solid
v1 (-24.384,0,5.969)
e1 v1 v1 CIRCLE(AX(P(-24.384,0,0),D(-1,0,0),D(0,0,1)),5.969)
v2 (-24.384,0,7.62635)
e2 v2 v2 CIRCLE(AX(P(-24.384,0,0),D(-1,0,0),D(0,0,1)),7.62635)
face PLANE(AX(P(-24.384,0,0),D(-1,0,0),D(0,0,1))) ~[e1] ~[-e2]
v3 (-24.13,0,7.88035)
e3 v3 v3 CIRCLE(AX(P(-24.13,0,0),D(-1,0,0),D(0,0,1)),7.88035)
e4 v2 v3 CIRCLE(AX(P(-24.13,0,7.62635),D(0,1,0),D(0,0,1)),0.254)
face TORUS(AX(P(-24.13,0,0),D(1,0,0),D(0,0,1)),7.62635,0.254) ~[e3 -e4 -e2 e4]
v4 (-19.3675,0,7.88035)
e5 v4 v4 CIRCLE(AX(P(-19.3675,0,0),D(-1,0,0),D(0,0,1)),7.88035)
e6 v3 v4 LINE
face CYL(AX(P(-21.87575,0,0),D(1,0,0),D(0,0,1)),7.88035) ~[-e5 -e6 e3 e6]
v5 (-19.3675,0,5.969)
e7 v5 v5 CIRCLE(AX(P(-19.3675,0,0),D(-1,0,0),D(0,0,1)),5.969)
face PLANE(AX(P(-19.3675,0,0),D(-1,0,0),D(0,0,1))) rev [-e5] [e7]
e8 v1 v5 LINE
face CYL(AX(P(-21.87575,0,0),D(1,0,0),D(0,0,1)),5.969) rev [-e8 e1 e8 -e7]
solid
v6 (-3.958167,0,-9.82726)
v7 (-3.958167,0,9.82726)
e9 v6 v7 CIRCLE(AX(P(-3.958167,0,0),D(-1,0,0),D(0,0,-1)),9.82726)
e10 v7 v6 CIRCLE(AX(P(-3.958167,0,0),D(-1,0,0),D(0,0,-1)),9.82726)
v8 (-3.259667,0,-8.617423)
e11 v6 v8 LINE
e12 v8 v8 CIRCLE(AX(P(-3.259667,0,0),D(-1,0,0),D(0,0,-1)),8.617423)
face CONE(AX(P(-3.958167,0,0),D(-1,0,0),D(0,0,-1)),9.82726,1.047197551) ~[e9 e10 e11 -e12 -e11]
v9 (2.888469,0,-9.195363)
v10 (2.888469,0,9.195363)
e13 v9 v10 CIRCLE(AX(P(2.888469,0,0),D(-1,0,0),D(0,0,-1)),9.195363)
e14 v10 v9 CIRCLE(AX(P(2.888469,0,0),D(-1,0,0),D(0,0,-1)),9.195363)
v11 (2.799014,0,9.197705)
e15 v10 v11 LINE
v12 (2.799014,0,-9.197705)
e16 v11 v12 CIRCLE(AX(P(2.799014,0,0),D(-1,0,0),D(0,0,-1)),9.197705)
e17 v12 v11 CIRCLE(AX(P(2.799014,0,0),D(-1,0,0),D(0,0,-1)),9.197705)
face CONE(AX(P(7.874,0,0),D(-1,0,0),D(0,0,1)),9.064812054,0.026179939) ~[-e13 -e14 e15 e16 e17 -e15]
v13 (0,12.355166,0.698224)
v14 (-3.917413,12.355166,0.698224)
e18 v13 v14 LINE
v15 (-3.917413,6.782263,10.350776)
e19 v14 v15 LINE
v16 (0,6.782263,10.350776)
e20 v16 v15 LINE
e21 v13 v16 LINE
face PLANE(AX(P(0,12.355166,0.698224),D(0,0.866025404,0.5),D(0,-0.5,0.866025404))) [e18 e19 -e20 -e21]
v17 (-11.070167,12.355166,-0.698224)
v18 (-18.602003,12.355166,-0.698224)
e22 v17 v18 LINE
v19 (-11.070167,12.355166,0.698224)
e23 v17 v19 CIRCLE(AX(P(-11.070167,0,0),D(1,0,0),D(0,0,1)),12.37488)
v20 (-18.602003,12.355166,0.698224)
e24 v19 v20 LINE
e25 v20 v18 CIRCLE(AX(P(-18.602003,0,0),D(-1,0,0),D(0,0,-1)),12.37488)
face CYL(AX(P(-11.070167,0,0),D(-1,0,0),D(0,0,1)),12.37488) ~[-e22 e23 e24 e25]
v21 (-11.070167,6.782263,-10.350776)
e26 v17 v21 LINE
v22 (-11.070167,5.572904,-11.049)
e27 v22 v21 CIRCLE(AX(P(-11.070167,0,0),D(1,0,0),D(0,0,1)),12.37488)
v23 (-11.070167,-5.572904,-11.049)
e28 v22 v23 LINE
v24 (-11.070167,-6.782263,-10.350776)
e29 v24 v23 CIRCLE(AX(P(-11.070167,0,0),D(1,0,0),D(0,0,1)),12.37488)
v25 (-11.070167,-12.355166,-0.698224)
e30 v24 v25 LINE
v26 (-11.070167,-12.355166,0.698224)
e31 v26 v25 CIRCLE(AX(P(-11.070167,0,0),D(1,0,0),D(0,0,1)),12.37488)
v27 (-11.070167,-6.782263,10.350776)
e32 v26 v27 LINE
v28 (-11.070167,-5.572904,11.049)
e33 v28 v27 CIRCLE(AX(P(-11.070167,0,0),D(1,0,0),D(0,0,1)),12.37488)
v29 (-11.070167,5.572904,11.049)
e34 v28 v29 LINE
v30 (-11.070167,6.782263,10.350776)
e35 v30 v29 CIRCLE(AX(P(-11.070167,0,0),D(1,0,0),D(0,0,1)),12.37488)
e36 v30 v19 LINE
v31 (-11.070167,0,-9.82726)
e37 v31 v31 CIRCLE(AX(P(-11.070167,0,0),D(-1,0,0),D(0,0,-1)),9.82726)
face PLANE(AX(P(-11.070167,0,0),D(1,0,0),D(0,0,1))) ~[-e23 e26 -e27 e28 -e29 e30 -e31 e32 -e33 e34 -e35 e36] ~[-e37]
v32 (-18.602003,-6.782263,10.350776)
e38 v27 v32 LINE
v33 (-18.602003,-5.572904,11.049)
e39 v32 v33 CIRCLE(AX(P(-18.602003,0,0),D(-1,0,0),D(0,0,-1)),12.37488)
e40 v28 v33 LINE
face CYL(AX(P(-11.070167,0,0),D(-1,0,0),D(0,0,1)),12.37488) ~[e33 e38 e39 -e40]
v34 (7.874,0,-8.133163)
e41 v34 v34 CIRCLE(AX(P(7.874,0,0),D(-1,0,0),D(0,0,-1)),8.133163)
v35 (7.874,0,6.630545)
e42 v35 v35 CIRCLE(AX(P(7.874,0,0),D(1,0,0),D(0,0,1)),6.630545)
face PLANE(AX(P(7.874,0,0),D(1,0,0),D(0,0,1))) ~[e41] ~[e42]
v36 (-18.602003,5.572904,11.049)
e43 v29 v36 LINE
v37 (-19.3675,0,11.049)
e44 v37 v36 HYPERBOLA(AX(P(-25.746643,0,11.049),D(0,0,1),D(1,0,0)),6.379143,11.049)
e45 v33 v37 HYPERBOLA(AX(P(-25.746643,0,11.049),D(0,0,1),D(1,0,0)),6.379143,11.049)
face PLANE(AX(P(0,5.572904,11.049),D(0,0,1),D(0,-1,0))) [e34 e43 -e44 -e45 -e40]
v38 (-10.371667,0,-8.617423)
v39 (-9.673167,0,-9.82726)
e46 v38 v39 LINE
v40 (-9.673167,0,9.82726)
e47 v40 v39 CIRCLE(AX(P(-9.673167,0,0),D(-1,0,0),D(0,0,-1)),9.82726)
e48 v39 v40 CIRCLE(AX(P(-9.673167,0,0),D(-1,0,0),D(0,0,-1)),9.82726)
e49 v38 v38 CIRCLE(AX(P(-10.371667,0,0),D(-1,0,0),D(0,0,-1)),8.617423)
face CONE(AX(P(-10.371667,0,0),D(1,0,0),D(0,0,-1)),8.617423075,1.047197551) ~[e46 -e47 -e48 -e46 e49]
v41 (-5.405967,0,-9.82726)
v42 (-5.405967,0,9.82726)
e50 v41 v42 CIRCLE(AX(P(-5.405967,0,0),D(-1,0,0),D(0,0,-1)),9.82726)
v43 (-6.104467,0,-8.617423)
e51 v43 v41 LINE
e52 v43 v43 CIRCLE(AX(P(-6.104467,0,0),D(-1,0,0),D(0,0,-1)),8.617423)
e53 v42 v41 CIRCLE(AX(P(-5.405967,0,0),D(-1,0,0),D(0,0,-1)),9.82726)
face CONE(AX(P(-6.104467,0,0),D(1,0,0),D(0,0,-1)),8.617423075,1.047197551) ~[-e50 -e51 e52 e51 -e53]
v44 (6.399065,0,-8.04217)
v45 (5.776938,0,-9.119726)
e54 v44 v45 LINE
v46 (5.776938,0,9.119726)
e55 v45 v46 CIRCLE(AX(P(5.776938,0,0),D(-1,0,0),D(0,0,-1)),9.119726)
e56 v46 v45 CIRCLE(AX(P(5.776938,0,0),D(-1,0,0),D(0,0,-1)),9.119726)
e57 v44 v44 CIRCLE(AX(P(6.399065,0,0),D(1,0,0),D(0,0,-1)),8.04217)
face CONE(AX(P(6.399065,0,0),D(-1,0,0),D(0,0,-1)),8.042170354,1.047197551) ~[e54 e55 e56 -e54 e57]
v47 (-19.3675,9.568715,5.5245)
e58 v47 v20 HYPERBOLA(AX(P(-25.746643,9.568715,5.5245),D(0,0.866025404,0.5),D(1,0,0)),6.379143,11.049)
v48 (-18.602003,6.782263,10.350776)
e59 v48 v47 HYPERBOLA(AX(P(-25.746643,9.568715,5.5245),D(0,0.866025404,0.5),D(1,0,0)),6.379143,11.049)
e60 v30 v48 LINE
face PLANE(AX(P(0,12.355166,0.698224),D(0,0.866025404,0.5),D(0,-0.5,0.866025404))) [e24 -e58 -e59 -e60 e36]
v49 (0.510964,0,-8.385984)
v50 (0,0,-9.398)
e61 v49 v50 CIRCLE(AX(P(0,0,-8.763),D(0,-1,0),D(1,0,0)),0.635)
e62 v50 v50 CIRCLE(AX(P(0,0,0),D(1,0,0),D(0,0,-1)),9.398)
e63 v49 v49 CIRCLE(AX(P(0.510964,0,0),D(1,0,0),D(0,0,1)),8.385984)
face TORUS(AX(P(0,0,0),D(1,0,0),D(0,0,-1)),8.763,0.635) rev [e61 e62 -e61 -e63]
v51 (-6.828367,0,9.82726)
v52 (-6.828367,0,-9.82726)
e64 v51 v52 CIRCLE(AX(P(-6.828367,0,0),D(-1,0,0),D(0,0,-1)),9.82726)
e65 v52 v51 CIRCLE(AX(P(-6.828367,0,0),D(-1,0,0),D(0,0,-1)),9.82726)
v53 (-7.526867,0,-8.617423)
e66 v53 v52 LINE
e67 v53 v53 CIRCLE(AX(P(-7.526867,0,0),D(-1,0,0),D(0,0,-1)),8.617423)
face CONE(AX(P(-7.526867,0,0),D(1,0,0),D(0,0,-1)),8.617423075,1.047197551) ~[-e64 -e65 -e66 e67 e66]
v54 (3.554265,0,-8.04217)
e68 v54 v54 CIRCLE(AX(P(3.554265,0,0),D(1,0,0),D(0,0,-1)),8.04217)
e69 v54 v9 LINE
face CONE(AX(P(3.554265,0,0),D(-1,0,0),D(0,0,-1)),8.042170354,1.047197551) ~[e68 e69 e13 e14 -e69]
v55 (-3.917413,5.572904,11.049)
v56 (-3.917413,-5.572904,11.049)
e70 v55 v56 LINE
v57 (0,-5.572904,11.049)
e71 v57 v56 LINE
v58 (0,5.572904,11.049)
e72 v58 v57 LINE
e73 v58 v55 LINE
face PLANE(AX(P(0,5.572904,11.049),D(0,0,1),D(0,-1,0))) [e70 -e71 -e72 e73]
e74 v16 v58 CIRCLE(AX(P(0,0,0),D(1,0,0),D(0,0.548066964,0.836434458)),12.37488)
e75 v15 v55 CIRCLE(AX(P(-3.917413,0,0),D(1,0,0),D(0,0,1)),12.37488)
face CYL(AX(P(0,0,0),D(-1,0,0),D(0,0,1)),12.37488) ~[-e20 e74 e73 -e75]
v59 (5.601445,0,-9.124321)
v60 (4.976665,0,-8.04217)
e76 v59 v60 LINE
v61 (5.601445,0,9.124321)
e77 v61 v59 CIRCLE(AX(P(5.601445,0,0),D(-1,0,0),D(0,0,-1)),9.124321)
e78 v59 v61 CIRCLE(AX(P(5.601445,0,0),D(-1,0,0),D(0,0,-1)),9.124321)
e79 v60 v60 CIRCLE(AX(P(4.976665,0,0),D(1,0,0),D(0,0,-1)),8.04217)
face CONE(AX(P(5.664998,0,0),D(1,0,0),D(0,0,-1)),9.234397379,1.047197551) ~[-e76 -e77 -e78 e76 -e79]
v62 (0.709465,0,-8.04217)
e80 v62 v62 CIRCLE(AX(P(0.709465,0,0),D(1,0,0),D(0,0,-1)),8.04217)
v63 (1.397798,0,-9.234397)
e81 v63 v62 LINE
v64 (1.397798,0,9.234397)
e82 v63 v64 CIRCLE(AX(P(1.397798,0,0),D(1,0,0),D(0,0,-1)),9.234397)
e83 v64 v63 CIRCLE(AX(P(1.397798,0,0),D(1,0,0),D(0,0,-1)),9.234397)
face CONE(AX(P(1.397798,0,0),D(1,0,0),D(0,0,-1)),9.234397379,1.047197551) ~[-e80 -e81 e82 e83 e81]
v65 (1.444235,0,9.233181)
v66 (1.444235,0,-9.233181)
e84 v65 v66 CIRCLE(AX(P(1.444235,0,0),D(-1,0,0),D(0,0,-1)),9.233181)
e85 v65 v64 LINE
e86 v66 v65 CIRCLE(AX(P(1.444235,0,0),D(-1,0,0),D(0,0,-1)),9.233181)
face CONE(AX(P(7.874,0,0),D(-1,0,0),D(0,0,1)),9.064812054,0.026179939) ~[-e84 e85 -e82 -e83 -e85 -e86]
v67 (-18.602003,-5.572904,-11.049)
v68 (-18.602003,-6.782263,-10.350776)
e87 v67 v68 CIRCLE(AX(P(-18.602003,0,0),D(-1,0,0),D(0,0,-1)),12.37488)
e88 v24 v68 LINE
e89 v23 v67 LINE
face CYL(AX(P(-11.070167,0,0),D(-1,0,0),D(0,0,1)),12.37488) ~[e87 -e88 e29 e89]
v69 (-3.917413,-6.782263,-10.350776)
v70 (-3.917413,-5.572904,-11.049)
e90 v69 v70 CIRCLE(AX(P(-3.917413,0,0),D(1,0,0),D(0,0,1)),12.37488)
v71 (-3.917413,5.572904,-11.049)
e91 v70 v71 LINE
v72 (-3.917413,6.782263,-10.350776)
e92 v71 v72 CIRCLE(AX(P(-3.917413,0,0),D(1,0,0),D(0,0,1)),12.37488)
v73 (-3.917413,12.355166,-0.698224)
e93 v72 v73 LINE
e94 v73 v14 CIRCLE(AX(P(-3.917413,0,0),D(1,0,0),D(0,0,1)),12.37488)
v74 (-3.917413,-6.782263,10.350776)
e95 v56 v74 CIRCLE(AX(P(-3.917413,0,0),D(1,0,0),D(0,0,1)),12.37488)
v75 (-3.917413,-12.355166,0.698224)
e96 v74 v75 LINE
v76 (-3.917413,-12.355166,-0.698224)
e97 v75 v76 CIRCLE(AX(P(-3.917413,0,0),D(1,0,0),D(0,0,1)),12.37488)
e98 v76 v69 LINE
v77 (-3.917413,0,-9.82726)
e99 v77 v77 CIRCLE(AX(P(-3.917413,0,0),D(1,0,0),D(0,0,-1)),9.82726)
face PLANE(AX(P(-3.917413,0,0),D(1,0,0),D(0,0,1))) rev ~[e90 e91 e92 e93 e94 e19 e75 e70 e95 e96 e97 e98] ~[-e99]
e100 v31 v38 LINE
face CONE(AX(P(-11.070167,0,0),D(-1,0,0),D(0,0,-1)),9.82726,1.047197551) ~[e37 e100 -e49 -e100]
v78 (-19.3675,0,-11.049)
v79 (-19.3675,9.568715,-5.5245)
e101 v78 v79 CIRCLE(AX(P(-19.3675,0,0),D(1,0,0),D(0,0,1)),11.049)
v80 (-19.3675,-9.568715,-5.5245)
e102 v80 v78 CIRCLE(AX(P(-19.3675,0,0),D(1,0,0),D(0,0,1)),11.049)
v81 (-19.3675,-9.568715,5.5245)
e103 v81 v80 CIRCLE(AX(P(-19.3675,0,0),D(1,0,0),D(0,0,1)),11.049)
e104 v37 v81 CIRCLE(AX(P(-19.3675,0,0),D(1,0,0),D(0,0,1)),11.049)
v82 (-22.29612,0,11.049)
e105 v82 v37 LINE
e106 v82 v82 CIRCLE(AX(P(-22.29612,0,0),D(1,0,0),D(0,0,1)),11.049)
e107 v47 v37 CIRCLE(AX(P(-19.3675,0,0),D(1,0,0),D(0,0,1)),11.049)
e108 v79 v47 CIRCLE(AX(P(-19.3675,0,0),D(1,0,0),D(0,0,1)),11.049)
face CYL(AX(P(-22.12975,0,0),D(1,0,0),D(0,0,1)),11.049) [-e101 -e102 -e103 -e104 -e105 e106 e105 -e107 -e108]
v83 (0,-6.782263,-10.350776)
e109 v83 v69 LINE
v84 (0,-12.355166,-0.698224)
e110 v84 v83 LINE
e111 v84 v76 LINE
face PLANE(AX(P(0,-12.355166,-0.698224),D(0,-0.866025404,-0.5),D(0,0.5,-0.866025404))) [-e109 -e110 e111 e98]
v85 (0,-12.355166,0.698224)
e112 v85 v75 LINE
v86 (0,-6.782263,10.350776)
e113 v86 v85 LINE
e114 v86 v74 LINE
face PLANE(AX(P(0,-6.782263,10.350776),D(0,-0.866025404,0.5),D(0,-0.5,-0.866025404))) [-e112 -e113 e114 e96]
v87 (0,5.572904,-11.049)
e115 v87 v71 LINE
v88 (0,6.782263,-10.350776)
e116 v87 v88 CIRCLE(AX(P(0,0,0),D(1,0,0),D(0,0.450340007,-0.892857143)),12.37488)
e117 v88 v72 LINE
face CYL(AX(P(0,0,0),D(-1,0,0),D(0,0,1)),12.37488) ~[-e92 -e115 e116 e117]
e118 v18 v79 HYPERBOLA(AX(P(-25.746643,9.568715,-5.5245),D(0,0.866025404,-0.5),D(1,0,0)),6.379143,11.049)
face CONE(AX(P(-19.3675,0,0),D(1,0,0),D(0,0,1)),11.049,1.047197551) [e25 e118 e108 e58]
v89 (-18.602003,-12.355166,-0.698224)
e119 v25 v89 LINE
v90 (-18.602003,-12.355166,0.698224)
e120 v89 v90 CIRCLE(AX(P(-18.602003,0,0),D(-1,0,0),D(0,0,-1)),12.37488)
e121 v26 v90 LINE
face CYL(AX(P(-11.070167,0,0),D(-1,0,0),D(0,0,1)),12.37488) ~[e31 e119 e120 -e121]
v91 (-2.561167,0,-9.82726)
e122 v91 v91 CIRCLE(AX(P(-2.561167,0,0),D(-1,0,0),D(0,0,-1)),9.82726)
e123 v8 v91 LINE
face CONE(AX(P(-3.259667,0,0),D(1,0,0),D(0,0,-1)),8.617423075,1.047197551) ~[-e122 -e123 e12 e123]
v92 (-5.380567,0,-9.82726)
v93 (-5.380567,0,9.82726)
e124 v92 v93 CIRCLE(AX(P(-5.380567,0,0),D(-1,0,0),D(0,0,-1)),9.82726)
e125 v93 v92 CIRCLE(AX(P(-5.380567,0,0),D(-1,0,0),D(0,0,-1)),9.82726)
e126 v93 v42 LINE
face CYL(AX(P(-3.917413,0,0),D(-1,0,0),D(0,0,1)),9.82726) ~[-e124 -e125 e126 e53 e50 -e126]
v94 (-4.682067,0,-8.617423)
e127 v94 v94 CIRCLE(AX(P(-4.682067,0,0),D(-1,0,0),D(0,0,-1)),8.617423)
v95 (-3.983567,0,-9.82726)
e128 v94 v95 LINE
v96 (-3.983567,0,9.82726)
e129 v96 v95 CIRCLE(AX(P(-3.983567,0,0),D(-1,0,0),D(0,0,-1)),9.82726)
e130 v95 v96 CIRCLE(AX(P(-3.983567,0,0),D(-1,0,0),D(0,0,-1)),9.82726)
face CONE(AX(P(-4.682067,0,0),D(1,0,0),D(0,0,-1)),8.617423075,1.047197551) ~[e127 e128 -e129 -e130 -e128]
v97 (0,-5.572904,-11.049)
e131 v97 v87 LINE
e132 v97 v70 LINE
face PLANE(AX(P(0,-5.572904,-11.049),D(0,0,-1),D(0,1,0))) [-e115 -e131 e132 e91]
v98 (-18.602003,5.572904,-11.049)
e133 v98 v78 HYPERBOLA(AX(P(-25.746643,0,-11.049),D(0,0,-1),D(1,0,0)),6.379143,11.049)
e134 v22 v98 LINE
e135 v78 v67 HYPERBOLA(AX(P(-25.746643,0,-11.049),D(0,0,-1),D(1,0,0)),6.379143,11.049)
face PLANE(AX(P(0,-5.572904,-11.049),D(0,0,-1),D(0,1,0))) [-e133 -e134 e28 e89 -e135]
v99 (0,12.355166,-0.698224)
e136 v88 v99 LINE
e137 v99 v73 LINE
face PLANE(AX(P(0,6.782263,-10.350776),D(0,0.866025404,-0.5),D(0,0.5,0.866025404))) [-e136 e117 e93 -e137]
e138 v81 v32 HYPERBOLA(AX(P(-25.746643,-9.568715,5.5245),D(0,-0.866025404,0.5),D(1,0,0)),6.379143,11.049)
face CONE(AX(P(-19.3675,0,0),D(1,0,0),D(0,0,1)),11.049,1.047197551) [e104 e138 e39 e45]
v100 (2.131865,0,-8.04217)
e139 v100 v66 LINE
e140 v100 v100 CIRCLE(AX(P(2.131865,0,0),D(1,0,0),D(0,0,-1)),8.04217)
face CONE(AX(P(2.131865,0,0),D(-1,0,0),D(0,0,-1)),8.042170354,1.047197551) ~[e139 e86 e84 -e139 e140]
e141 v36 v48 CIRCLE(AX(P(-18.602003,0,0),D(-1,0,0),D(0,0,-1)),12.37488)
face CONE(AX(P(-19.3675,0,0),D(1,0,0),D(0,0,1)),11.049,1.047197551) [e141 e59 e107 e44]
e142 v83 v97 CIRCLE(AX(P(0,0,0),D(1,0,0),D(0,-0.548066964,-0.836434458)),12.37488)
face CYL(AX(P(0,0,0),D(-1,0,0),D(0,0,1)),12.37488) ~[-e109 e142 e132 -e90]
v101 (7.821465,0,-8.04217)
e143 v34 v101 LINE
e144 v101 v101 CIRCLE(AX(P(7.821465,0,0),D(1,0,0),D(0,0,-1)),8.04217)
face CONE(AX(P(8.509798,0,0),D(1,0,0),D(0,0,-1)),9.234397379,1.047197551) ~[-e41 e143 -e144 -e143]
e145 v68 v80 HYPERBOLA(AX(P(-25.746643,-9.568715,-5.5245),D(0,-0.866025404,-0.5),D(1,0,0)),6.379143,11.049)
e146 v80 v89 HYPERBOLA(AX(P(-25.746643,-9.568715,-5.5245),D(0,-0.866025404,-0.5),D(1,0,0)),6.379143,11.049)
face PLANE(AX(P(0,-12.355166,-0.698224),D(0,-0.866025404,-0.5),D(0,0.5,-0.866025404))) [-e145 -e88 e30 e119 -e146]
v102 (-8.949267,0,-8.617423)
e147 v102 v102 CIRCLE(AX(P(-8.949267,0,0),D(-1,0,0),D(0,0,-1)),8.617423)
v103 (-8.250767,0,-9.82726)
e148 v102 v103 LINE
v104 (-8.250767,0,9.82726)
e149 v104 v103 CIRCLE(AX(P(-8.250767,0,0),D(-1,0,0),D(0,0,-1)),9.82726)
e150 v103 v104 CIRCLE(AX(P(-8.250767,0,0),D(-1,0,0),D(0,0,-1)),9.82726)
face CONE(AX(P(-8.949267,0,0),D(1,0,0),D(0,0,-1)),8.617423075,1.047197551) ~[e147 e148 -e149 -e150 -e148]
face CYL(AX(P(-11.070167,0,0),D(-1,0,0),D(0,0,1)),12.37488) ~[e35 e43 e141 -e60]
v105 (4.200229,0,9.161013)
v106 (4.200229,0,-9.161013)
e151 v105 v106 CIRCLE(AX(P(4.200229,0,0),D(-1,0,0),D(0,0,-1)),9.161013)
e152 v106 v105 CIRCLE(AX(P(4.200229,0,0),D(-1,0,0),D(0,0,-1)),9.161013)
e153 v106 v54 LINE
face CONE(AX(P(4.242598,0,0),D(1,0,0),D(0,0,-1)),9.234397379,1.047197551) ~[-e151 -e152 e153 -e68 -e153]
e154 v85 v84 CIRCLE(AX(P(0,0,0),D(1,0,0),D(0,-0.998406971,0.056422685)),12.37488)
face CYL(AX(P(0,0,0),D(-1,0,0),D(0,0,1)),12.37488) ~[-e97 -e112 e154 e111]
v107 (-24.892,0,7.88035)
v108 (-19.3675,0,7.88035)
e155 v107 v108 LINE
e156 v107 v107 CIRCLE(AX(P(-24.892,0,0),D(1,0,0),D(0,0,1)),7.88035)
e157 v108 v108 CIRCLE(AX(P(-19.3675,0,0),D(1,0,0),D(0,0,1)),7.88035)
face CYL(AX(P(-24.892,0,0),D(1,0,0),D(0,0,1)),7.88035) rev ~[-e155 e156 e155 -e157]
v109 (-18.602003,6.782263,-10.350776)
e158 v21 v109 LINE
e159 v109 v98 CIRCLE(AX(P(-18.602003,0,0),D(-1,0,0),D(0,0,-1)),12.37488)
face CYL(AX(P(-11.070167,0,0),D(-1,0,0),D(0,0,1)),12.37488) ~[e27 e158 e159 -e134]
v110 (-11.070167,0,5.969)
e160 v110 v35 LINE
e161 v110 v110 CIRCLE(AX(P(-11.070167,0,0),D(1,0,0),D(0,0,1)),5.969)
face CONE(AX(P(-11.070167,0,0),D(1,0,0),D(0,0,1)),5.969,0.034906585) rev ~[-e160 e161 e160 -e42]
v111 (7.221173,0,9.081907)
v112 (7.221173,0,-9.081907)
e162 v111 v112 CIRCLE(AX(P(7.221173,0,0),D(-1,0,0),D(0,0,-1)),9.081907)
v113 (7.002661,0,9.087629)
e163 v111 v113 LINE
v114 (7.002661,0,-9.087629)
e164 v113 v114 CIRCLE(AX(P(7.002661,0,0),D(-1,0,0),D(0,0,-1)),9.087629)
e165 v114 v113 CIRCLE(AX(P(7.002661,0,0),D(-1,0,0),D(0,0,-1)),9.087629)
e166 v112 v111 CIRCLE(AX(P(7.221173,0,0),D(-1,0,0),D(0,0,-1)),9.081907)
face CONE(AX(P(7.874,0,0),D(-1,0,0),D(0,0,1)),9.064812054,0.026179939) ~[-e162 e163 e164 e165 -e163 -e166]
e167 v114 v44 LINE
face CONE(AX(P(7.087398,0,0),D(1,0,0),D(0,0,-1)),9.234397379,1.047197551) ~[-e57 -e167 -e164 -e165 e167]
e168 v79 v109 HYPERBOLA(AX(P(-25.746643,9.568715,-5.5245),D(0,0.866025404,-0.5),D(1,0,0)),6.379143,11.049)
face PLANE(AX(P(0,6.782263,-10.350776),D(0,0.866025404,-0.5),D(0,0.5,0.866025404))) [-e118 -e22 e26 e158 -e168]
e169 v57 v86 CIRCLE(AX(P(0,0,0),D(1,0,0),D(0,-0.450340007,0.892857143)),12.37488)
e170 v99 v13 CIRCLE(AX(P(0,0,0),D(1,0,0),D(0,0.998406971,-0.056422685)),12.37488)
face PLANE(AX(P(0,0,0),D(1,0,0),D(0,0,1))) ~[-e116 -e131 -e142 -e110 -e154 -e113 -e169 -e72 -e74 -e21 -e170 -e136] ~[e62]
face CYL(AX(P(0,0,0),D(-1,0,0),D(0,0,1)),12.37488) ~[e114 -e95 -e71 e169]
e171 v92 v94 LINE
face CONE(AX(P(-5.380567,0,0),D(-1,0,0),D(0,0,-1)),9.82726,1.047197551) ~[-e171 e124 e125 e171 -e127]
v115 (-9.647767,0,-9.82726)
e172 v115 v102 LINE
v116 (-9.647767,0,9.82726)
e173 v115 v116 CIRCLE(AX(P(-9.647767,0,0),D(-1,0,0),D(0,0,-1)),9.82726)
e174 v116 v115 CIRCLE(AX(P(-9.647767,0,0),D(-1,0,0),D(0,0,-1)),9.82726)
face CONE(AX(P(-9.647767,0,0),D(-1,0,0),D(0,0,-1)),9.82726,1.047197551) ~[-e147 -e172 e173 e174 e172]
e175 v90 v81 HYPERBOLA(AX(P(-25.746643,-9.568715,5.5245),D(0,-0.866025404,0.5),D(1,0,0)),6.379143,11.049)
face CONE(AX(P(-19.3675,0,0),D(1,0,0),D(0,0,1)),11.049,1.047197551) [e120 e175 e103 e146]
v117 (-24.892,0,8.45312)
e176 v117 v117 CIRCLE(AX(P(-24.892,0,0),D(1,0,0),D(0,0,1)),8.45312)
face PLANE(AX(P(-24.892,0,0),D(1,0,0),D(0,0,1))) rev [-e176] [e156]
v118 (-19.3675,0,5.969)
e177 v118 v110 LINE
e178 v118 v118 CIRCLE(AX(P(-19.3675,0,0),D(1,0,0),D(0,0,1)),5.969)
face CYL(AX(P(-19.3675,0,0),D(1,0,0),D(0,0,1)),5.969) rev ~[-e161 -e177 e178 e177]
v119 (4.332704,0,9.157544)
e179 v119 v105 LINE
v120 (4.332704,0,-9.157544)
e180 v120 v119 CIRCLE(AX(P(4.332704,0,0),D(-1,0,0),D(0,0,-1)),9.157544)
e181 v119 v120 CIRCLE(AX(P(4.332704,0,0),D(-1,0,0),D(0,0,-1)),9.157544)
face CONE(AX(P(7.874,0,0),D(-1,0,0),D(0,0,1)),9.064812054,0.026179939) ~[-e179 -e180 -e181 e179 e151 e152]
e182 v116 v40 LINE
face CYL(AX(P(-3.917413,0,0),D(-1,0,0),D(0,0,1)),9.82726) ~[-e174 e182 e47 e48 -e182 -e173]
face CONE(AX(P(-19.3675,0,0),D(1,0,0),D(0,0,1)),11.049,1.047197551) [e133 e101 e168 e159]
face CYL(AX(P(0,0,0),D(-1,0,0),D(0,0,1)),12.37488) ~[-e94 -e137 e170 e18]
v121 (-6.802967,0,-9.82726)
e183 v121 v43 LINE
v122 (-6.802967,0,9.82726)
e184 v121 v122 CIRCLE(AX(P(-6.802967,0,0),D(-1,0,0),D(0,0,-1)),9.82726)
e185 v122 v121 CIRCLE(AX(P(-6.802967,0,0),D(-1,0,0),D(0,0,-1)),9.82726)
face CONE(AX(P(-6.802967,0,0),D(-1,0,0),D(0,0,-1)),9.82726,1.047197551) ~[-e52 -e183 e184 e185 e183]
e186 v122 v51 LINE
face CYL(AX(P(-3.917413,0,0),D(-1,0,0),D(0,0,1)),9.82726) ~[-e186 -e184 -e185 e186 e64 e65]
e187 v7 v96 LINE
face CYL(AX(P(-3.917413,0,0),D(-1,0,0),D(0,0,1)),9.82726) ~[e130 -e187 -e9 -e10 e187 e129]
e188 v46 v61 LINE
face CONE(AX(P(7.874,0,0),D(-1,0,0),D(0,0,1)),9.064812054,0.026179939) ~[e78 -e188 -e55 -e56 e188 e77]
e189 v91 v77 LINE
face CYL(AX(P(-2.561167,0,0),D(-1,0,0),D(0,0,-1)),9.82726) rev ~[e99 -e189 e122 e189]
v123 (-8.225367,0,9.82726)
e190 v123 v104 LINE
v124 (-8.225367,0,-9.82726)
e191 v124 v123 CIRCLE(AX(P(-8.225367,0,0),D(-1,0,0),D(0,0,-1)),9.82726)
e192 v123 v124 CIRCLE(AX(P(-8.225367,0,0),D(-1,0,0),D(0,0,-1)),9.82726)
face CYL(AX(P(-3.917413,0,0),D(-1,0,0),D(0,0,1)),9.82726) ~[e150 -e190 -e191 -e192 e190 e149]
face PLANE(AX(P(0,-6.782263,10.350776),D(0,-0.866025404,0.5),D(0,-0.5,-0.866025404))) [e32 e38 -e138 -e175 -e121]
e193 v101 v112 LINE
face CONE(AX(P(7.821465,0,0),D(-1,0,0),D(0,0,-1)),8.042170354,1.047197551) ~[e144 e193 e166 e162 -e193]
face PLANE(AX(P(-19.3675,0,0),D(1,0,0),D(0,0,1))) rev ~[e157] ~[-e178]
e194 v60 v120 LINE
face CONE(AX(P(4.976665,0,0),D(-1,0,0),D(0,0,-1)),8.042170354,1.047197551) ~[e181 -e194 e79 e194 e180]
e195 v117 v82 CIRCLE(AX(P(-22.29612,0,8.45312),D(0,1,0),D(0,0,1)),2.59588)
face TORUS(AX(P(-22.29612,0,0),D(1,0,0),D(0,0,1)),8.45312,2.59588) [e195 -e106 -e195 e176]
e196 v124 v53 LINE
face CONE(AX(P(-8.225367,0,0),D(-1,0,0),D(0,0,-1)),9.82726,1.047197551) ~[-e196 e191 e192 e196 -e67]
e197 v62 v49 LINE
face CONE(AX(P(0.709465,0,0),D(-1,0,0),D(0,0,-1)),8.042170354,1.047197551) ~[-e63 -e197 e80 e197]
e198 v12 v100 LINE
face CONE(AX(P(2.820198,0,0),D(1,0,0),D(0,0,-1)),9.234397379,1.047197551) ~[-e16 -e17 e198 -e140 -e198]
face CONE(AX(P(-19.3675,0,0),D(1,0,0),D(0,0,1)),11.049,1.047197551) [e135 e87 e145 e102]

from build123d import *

# Parameters (mm, degrees)
SKETCH2_OUTSIDE_W  = 36.338
SKETCH2_OUTSIDE_H  = 36.338
CUT_EXTRUDE1_DEPTH = 19.3675
SKETCH14_W         = 5.5245
SKETCH14_H         = 1.778
CHAMFER1_SIZE      = 0.326149358
CHAMFER1_SIZE2     = 0.3175
SKETCH3_OUTSIDE_W  = 131.256
SKETCH3_OUTSIDE_H  = 133.908
SKETCH3_OUTSIDE_R  = 11.049
CUT_EXTRUDE2_DEPTH = 28.2415
CUT_EXTRUDE2_DRAFT = -60
SKETCH9_W          = 5.0165
SKETCH9_H          = 1.91135
FILLET1_R          = 2.59588
LPATTERN1_COUNT    = 6
LPATTERN1_PITCH    = 1.4224
LPATTERN2_COUNT    = 6
LPATTERN2_PITCH    = 1.4224
SKETCH15_R         = 0.635
FILLET3_R          = 0.254


with BuildPart() as part:
    # Sketch1 → Revolve1 (revolve)
    with BuildSketch(Plane.XY, mode=Mode.PRIVATE) as revolve1_sk:
        Polygon((-11.070166667, 9.82726), (-11.070166667, 12.37488), (-19.3675, 12.37488), (-19.3675, 9.271), (-24.892, 9.271), (-24.892, 7.88035), (-19.3675, 7.88035), (-19.3675, 5.969), (-11.070166667, 5.969), (7.874, 6.630544877), (7.874, 9.064812054), (0, 9.271), (0, 12.37488), (-3.917412935, 12.37488), (-3.917412935, 9.82726), align=None)
    revolve(revolve1_sk.sketch.rotate(Axis((-18.386021217, 0, 0), (1, 0, 0)), 90), axis=Axis((-18.386021217, 0, 0), (1, 0, 0)))  # turned: the seam where the file's is

    # Sketch2 outside → Cut-Extrude1 (cut)
    with BuildSketch(Plane(origin=(0, 0, 0), x_dir=(0, 0, -1), z_dir=(1, 0, 0))):
        Rectangle(SKETCH2_OUTSIDE_W, SKETCH2_OUTSIDE_H)
        with BuildLine():
            Line((11.049, -5.572903553), (11.049, 5.572903553))
            ThreePointArc((11.049, 5.572903553), (10.716960449, 6.18744), (10.35077605, 6.78226291))
            Line((10.35077605, 6.78226291), (0.69822395, 12.355166463))
            ThreePointArc((0.69822395, 12.355166463), (0, 12.37488), (-0.69822395, 12.355166463))
            Line((-0.69822395, 12.355166463), (-10.35077605, 6.78226291))
            ThreePointArc((-10.35077605, 6.78226291), (-10.716960449, 6.18744), (-11.049, 5.572903553))
            Line((-11.049, 5.572903553), (-11.049, -5.572903553))
            ThreePointArc((-11.049, -5.572903553), (-10.716960449, -6.18744), (-10.35077605, -6.78226291))
            Line((-10.35077605, -6.78226291), (-0.69822395, -12.355166463))
            ThreePointArc((-0.69822395, -12.355166463), (0, -12.37488), (0.69822395, -12.355166463))
            Line((0.69822395, -12.355166463), (10.35077605, -6.78226291))
            ThreePointArc((10.35077605, -6.78226291), (10.716960449, -6.18744), (11.049, -5.572903553))
        make_face(mode=Mode.SUBTRACT)
    extrude(amount=-CUT_EXTRUDE1_DEPTH, mode=Mode.SUBTRACT)

    # Sketch14 → Revolve4 (revolve)
    with BuildSketch(Plane.XY, mode=Mode.PRIVATE) as revolve4_sk:
        with Locations((-22.12975, 10.16)):
            Rectangle(SKETCH14_W, SKETCH14_H)
    revolve(revolve4_sk.sketch.rotate(Axis((-18.386021217, 0, 0), (1, 0, 0)), 90), axis=Axis((-18.386021217, 0, 0), (1, 0, 0)))  # turned: the seam where the file's is

    # Chamfer1
    chamfer1_edges = [part.edges().sort_by_distance(p)[0] for p in [
        (7.874, 0, -9.064812054),
    ]]
    chamfer1_side = [part.faces().sort_by_distance(p)[0] for p in [
        (3.937, 0, -9.167906027),
    ]]
    chamfer(chamfer1_edges, length=CHAMFER1_SIZE, length2=CHAMFER1_SIZE2, reference=chamfer1_side[0])


with BuildPart() as cut_extrude2_tool:
    # Sketch3 outside → Cut-Extrude2 (with draft: the straight prism first)
    with BuildSketch(Plane.ZY.offset(19.3675)):
        Rectangle(SKETCH3_OUTSIDE_W, SKETCH3_OUTSIDE_H)
        Circle(SKETCH3_OUTSIDE_R, mode=Mode.SUBTRACT)
    extrude(amount=-CUT_EXTRUDE2_DEPTH)
    # Cut-Extrude2: the draft: its side faces are tilted about the plane it starts from
    cut_extrude2_sides = [cut_extrude2_tool.faces().sort_by_distance(p)[0] for p in [
        (-5.24675, -66.954, 0),
        (-5.24675, 0, 65.628),
        (-5.24675, 66.954, 0),
        (-5.24675, 0, -65.628),
        (-5.24675, 0, -11.049),
    ]]
    draft(cut_extrude2_sides, Plane.ZY.offset(19.3675), CUT_EXTRUDE2_DRAFT)


with BuildPart() as part_1:
    add(part.part)

    # Cut-Extrude2: cut by cut_extrude2_tool
    add(cut_extrude2_tool.part, mode=Mode.SUBTRACT)

    # Fillet1
    fillet1_edges = [part_1.edges().sort_by_distance(p)[0] for p in [
        (-24.892, 0, -11.049),
    ]]
    fillet(fillet1_edges, radius=FILLET1_R)

    # Sketch10 → Cut-Revolve1 (revolve, cut)
    with BuildSketch(Plane.XY, mode=Mode.PRIVATE) as cut_revolve1_sk:
        Polygon((-11.070166667, 9.82726), (-10.371666992, 8.617423075), (-9.673167318, 9.82726), align=None)
    cut_revolve1 = revolve(cut_revolve1_sk.sketch.rotate(Axis((15.58962545, 0, 0), (-1, 0, 0)), 90), axis=Axis((15.58962545, 0, 0), (-1, 0, 0)), mode=Mode.SUBTRACT)  # turned: the seam where the file's is

    # LPattern1: Cut-Revolve1 ×6
    with Locations(*[(i * LPATTERN1_PITCH, 0, 0) for i in range(1, LPATTERN1_COUNT)]):
        add(cut_revolve1, mode=Mode.SUBTRACT)

    # Sketch13 → Cut-Revolve2 (revolve, cut)
    with BuildSketch(Plane.XY, mode=Mode.PRIVATE) as cut_revolve2_sk:
        Polygon((0, 9.271), (1.397797721, 9.234397379), (0.709465127, 8.042170354), align=None)
    cut_revolve2 = revolve(cut_revolve2_sk.sketch.rotate(Axis((-18.386021217, 0, 0), (1, 0, 0)), 270), axis=Axis((-18.386021217, 0, 0), (1, 0, 0)), mode=Mode.SUBTRACT)  # turned: the seam where the file's is

    # LPattern2: Cut-Revolve2 ×6
    with Locations(*[(i * LPATTERN2_PITCH, 0, 0) for i in range(1, LPATTERN2_COUNT)]):
        add(cut_revolve2, mode=Mode.SUBTRACT)

    # Sketch15 → Cut-Revolve4 (revolve, cut)
    with BuildSketch(Plane.XY, mode=Mode.PRIVATE) as cut_revolve4_sk:
        with Locations((0, -8.763)):
            Circle(SKETCH15_R)
    revolve(cut_revolve4_sk.sketch.rotate(Axis((10.155027747, 0, 0), (-1, 0, 0)), 270), axis=Axis((10.155027747, 0, 0), (-1, 0, 0)), mode=Mode.SUBTRACT)  # turned: the seam where the file's is


with BuildPart() as body_2:
    # Sketch9 → Revolve3 (revolve)
    with BuildSketch(Plane.XY, mode=Mode.PRIVATE) as revolve3_sk:
        with Locations((-21.87575, 6.924675)):
            Rectangle(SKETCH9_W, SKETCH9_H)
    revolve(revolve3_sk.sketch.rotate(Axis((8.695207459, 0, 0), (-1, 0, 0)), 270), axis=Axis((8.695207459, 0, 0), (-1, 0, 0)))  # turned: the seam where the file's is

    # Fillet3
    fillet3_edges = [body_2.edges().sort_by_distance(p)[0] for p in [
        (-24.384, 0, -7.88035),
    ]]
    fillet(fillet3_edges, radius=FILLET3_R)


solid = Compound([part_1.part, body_2.part])
